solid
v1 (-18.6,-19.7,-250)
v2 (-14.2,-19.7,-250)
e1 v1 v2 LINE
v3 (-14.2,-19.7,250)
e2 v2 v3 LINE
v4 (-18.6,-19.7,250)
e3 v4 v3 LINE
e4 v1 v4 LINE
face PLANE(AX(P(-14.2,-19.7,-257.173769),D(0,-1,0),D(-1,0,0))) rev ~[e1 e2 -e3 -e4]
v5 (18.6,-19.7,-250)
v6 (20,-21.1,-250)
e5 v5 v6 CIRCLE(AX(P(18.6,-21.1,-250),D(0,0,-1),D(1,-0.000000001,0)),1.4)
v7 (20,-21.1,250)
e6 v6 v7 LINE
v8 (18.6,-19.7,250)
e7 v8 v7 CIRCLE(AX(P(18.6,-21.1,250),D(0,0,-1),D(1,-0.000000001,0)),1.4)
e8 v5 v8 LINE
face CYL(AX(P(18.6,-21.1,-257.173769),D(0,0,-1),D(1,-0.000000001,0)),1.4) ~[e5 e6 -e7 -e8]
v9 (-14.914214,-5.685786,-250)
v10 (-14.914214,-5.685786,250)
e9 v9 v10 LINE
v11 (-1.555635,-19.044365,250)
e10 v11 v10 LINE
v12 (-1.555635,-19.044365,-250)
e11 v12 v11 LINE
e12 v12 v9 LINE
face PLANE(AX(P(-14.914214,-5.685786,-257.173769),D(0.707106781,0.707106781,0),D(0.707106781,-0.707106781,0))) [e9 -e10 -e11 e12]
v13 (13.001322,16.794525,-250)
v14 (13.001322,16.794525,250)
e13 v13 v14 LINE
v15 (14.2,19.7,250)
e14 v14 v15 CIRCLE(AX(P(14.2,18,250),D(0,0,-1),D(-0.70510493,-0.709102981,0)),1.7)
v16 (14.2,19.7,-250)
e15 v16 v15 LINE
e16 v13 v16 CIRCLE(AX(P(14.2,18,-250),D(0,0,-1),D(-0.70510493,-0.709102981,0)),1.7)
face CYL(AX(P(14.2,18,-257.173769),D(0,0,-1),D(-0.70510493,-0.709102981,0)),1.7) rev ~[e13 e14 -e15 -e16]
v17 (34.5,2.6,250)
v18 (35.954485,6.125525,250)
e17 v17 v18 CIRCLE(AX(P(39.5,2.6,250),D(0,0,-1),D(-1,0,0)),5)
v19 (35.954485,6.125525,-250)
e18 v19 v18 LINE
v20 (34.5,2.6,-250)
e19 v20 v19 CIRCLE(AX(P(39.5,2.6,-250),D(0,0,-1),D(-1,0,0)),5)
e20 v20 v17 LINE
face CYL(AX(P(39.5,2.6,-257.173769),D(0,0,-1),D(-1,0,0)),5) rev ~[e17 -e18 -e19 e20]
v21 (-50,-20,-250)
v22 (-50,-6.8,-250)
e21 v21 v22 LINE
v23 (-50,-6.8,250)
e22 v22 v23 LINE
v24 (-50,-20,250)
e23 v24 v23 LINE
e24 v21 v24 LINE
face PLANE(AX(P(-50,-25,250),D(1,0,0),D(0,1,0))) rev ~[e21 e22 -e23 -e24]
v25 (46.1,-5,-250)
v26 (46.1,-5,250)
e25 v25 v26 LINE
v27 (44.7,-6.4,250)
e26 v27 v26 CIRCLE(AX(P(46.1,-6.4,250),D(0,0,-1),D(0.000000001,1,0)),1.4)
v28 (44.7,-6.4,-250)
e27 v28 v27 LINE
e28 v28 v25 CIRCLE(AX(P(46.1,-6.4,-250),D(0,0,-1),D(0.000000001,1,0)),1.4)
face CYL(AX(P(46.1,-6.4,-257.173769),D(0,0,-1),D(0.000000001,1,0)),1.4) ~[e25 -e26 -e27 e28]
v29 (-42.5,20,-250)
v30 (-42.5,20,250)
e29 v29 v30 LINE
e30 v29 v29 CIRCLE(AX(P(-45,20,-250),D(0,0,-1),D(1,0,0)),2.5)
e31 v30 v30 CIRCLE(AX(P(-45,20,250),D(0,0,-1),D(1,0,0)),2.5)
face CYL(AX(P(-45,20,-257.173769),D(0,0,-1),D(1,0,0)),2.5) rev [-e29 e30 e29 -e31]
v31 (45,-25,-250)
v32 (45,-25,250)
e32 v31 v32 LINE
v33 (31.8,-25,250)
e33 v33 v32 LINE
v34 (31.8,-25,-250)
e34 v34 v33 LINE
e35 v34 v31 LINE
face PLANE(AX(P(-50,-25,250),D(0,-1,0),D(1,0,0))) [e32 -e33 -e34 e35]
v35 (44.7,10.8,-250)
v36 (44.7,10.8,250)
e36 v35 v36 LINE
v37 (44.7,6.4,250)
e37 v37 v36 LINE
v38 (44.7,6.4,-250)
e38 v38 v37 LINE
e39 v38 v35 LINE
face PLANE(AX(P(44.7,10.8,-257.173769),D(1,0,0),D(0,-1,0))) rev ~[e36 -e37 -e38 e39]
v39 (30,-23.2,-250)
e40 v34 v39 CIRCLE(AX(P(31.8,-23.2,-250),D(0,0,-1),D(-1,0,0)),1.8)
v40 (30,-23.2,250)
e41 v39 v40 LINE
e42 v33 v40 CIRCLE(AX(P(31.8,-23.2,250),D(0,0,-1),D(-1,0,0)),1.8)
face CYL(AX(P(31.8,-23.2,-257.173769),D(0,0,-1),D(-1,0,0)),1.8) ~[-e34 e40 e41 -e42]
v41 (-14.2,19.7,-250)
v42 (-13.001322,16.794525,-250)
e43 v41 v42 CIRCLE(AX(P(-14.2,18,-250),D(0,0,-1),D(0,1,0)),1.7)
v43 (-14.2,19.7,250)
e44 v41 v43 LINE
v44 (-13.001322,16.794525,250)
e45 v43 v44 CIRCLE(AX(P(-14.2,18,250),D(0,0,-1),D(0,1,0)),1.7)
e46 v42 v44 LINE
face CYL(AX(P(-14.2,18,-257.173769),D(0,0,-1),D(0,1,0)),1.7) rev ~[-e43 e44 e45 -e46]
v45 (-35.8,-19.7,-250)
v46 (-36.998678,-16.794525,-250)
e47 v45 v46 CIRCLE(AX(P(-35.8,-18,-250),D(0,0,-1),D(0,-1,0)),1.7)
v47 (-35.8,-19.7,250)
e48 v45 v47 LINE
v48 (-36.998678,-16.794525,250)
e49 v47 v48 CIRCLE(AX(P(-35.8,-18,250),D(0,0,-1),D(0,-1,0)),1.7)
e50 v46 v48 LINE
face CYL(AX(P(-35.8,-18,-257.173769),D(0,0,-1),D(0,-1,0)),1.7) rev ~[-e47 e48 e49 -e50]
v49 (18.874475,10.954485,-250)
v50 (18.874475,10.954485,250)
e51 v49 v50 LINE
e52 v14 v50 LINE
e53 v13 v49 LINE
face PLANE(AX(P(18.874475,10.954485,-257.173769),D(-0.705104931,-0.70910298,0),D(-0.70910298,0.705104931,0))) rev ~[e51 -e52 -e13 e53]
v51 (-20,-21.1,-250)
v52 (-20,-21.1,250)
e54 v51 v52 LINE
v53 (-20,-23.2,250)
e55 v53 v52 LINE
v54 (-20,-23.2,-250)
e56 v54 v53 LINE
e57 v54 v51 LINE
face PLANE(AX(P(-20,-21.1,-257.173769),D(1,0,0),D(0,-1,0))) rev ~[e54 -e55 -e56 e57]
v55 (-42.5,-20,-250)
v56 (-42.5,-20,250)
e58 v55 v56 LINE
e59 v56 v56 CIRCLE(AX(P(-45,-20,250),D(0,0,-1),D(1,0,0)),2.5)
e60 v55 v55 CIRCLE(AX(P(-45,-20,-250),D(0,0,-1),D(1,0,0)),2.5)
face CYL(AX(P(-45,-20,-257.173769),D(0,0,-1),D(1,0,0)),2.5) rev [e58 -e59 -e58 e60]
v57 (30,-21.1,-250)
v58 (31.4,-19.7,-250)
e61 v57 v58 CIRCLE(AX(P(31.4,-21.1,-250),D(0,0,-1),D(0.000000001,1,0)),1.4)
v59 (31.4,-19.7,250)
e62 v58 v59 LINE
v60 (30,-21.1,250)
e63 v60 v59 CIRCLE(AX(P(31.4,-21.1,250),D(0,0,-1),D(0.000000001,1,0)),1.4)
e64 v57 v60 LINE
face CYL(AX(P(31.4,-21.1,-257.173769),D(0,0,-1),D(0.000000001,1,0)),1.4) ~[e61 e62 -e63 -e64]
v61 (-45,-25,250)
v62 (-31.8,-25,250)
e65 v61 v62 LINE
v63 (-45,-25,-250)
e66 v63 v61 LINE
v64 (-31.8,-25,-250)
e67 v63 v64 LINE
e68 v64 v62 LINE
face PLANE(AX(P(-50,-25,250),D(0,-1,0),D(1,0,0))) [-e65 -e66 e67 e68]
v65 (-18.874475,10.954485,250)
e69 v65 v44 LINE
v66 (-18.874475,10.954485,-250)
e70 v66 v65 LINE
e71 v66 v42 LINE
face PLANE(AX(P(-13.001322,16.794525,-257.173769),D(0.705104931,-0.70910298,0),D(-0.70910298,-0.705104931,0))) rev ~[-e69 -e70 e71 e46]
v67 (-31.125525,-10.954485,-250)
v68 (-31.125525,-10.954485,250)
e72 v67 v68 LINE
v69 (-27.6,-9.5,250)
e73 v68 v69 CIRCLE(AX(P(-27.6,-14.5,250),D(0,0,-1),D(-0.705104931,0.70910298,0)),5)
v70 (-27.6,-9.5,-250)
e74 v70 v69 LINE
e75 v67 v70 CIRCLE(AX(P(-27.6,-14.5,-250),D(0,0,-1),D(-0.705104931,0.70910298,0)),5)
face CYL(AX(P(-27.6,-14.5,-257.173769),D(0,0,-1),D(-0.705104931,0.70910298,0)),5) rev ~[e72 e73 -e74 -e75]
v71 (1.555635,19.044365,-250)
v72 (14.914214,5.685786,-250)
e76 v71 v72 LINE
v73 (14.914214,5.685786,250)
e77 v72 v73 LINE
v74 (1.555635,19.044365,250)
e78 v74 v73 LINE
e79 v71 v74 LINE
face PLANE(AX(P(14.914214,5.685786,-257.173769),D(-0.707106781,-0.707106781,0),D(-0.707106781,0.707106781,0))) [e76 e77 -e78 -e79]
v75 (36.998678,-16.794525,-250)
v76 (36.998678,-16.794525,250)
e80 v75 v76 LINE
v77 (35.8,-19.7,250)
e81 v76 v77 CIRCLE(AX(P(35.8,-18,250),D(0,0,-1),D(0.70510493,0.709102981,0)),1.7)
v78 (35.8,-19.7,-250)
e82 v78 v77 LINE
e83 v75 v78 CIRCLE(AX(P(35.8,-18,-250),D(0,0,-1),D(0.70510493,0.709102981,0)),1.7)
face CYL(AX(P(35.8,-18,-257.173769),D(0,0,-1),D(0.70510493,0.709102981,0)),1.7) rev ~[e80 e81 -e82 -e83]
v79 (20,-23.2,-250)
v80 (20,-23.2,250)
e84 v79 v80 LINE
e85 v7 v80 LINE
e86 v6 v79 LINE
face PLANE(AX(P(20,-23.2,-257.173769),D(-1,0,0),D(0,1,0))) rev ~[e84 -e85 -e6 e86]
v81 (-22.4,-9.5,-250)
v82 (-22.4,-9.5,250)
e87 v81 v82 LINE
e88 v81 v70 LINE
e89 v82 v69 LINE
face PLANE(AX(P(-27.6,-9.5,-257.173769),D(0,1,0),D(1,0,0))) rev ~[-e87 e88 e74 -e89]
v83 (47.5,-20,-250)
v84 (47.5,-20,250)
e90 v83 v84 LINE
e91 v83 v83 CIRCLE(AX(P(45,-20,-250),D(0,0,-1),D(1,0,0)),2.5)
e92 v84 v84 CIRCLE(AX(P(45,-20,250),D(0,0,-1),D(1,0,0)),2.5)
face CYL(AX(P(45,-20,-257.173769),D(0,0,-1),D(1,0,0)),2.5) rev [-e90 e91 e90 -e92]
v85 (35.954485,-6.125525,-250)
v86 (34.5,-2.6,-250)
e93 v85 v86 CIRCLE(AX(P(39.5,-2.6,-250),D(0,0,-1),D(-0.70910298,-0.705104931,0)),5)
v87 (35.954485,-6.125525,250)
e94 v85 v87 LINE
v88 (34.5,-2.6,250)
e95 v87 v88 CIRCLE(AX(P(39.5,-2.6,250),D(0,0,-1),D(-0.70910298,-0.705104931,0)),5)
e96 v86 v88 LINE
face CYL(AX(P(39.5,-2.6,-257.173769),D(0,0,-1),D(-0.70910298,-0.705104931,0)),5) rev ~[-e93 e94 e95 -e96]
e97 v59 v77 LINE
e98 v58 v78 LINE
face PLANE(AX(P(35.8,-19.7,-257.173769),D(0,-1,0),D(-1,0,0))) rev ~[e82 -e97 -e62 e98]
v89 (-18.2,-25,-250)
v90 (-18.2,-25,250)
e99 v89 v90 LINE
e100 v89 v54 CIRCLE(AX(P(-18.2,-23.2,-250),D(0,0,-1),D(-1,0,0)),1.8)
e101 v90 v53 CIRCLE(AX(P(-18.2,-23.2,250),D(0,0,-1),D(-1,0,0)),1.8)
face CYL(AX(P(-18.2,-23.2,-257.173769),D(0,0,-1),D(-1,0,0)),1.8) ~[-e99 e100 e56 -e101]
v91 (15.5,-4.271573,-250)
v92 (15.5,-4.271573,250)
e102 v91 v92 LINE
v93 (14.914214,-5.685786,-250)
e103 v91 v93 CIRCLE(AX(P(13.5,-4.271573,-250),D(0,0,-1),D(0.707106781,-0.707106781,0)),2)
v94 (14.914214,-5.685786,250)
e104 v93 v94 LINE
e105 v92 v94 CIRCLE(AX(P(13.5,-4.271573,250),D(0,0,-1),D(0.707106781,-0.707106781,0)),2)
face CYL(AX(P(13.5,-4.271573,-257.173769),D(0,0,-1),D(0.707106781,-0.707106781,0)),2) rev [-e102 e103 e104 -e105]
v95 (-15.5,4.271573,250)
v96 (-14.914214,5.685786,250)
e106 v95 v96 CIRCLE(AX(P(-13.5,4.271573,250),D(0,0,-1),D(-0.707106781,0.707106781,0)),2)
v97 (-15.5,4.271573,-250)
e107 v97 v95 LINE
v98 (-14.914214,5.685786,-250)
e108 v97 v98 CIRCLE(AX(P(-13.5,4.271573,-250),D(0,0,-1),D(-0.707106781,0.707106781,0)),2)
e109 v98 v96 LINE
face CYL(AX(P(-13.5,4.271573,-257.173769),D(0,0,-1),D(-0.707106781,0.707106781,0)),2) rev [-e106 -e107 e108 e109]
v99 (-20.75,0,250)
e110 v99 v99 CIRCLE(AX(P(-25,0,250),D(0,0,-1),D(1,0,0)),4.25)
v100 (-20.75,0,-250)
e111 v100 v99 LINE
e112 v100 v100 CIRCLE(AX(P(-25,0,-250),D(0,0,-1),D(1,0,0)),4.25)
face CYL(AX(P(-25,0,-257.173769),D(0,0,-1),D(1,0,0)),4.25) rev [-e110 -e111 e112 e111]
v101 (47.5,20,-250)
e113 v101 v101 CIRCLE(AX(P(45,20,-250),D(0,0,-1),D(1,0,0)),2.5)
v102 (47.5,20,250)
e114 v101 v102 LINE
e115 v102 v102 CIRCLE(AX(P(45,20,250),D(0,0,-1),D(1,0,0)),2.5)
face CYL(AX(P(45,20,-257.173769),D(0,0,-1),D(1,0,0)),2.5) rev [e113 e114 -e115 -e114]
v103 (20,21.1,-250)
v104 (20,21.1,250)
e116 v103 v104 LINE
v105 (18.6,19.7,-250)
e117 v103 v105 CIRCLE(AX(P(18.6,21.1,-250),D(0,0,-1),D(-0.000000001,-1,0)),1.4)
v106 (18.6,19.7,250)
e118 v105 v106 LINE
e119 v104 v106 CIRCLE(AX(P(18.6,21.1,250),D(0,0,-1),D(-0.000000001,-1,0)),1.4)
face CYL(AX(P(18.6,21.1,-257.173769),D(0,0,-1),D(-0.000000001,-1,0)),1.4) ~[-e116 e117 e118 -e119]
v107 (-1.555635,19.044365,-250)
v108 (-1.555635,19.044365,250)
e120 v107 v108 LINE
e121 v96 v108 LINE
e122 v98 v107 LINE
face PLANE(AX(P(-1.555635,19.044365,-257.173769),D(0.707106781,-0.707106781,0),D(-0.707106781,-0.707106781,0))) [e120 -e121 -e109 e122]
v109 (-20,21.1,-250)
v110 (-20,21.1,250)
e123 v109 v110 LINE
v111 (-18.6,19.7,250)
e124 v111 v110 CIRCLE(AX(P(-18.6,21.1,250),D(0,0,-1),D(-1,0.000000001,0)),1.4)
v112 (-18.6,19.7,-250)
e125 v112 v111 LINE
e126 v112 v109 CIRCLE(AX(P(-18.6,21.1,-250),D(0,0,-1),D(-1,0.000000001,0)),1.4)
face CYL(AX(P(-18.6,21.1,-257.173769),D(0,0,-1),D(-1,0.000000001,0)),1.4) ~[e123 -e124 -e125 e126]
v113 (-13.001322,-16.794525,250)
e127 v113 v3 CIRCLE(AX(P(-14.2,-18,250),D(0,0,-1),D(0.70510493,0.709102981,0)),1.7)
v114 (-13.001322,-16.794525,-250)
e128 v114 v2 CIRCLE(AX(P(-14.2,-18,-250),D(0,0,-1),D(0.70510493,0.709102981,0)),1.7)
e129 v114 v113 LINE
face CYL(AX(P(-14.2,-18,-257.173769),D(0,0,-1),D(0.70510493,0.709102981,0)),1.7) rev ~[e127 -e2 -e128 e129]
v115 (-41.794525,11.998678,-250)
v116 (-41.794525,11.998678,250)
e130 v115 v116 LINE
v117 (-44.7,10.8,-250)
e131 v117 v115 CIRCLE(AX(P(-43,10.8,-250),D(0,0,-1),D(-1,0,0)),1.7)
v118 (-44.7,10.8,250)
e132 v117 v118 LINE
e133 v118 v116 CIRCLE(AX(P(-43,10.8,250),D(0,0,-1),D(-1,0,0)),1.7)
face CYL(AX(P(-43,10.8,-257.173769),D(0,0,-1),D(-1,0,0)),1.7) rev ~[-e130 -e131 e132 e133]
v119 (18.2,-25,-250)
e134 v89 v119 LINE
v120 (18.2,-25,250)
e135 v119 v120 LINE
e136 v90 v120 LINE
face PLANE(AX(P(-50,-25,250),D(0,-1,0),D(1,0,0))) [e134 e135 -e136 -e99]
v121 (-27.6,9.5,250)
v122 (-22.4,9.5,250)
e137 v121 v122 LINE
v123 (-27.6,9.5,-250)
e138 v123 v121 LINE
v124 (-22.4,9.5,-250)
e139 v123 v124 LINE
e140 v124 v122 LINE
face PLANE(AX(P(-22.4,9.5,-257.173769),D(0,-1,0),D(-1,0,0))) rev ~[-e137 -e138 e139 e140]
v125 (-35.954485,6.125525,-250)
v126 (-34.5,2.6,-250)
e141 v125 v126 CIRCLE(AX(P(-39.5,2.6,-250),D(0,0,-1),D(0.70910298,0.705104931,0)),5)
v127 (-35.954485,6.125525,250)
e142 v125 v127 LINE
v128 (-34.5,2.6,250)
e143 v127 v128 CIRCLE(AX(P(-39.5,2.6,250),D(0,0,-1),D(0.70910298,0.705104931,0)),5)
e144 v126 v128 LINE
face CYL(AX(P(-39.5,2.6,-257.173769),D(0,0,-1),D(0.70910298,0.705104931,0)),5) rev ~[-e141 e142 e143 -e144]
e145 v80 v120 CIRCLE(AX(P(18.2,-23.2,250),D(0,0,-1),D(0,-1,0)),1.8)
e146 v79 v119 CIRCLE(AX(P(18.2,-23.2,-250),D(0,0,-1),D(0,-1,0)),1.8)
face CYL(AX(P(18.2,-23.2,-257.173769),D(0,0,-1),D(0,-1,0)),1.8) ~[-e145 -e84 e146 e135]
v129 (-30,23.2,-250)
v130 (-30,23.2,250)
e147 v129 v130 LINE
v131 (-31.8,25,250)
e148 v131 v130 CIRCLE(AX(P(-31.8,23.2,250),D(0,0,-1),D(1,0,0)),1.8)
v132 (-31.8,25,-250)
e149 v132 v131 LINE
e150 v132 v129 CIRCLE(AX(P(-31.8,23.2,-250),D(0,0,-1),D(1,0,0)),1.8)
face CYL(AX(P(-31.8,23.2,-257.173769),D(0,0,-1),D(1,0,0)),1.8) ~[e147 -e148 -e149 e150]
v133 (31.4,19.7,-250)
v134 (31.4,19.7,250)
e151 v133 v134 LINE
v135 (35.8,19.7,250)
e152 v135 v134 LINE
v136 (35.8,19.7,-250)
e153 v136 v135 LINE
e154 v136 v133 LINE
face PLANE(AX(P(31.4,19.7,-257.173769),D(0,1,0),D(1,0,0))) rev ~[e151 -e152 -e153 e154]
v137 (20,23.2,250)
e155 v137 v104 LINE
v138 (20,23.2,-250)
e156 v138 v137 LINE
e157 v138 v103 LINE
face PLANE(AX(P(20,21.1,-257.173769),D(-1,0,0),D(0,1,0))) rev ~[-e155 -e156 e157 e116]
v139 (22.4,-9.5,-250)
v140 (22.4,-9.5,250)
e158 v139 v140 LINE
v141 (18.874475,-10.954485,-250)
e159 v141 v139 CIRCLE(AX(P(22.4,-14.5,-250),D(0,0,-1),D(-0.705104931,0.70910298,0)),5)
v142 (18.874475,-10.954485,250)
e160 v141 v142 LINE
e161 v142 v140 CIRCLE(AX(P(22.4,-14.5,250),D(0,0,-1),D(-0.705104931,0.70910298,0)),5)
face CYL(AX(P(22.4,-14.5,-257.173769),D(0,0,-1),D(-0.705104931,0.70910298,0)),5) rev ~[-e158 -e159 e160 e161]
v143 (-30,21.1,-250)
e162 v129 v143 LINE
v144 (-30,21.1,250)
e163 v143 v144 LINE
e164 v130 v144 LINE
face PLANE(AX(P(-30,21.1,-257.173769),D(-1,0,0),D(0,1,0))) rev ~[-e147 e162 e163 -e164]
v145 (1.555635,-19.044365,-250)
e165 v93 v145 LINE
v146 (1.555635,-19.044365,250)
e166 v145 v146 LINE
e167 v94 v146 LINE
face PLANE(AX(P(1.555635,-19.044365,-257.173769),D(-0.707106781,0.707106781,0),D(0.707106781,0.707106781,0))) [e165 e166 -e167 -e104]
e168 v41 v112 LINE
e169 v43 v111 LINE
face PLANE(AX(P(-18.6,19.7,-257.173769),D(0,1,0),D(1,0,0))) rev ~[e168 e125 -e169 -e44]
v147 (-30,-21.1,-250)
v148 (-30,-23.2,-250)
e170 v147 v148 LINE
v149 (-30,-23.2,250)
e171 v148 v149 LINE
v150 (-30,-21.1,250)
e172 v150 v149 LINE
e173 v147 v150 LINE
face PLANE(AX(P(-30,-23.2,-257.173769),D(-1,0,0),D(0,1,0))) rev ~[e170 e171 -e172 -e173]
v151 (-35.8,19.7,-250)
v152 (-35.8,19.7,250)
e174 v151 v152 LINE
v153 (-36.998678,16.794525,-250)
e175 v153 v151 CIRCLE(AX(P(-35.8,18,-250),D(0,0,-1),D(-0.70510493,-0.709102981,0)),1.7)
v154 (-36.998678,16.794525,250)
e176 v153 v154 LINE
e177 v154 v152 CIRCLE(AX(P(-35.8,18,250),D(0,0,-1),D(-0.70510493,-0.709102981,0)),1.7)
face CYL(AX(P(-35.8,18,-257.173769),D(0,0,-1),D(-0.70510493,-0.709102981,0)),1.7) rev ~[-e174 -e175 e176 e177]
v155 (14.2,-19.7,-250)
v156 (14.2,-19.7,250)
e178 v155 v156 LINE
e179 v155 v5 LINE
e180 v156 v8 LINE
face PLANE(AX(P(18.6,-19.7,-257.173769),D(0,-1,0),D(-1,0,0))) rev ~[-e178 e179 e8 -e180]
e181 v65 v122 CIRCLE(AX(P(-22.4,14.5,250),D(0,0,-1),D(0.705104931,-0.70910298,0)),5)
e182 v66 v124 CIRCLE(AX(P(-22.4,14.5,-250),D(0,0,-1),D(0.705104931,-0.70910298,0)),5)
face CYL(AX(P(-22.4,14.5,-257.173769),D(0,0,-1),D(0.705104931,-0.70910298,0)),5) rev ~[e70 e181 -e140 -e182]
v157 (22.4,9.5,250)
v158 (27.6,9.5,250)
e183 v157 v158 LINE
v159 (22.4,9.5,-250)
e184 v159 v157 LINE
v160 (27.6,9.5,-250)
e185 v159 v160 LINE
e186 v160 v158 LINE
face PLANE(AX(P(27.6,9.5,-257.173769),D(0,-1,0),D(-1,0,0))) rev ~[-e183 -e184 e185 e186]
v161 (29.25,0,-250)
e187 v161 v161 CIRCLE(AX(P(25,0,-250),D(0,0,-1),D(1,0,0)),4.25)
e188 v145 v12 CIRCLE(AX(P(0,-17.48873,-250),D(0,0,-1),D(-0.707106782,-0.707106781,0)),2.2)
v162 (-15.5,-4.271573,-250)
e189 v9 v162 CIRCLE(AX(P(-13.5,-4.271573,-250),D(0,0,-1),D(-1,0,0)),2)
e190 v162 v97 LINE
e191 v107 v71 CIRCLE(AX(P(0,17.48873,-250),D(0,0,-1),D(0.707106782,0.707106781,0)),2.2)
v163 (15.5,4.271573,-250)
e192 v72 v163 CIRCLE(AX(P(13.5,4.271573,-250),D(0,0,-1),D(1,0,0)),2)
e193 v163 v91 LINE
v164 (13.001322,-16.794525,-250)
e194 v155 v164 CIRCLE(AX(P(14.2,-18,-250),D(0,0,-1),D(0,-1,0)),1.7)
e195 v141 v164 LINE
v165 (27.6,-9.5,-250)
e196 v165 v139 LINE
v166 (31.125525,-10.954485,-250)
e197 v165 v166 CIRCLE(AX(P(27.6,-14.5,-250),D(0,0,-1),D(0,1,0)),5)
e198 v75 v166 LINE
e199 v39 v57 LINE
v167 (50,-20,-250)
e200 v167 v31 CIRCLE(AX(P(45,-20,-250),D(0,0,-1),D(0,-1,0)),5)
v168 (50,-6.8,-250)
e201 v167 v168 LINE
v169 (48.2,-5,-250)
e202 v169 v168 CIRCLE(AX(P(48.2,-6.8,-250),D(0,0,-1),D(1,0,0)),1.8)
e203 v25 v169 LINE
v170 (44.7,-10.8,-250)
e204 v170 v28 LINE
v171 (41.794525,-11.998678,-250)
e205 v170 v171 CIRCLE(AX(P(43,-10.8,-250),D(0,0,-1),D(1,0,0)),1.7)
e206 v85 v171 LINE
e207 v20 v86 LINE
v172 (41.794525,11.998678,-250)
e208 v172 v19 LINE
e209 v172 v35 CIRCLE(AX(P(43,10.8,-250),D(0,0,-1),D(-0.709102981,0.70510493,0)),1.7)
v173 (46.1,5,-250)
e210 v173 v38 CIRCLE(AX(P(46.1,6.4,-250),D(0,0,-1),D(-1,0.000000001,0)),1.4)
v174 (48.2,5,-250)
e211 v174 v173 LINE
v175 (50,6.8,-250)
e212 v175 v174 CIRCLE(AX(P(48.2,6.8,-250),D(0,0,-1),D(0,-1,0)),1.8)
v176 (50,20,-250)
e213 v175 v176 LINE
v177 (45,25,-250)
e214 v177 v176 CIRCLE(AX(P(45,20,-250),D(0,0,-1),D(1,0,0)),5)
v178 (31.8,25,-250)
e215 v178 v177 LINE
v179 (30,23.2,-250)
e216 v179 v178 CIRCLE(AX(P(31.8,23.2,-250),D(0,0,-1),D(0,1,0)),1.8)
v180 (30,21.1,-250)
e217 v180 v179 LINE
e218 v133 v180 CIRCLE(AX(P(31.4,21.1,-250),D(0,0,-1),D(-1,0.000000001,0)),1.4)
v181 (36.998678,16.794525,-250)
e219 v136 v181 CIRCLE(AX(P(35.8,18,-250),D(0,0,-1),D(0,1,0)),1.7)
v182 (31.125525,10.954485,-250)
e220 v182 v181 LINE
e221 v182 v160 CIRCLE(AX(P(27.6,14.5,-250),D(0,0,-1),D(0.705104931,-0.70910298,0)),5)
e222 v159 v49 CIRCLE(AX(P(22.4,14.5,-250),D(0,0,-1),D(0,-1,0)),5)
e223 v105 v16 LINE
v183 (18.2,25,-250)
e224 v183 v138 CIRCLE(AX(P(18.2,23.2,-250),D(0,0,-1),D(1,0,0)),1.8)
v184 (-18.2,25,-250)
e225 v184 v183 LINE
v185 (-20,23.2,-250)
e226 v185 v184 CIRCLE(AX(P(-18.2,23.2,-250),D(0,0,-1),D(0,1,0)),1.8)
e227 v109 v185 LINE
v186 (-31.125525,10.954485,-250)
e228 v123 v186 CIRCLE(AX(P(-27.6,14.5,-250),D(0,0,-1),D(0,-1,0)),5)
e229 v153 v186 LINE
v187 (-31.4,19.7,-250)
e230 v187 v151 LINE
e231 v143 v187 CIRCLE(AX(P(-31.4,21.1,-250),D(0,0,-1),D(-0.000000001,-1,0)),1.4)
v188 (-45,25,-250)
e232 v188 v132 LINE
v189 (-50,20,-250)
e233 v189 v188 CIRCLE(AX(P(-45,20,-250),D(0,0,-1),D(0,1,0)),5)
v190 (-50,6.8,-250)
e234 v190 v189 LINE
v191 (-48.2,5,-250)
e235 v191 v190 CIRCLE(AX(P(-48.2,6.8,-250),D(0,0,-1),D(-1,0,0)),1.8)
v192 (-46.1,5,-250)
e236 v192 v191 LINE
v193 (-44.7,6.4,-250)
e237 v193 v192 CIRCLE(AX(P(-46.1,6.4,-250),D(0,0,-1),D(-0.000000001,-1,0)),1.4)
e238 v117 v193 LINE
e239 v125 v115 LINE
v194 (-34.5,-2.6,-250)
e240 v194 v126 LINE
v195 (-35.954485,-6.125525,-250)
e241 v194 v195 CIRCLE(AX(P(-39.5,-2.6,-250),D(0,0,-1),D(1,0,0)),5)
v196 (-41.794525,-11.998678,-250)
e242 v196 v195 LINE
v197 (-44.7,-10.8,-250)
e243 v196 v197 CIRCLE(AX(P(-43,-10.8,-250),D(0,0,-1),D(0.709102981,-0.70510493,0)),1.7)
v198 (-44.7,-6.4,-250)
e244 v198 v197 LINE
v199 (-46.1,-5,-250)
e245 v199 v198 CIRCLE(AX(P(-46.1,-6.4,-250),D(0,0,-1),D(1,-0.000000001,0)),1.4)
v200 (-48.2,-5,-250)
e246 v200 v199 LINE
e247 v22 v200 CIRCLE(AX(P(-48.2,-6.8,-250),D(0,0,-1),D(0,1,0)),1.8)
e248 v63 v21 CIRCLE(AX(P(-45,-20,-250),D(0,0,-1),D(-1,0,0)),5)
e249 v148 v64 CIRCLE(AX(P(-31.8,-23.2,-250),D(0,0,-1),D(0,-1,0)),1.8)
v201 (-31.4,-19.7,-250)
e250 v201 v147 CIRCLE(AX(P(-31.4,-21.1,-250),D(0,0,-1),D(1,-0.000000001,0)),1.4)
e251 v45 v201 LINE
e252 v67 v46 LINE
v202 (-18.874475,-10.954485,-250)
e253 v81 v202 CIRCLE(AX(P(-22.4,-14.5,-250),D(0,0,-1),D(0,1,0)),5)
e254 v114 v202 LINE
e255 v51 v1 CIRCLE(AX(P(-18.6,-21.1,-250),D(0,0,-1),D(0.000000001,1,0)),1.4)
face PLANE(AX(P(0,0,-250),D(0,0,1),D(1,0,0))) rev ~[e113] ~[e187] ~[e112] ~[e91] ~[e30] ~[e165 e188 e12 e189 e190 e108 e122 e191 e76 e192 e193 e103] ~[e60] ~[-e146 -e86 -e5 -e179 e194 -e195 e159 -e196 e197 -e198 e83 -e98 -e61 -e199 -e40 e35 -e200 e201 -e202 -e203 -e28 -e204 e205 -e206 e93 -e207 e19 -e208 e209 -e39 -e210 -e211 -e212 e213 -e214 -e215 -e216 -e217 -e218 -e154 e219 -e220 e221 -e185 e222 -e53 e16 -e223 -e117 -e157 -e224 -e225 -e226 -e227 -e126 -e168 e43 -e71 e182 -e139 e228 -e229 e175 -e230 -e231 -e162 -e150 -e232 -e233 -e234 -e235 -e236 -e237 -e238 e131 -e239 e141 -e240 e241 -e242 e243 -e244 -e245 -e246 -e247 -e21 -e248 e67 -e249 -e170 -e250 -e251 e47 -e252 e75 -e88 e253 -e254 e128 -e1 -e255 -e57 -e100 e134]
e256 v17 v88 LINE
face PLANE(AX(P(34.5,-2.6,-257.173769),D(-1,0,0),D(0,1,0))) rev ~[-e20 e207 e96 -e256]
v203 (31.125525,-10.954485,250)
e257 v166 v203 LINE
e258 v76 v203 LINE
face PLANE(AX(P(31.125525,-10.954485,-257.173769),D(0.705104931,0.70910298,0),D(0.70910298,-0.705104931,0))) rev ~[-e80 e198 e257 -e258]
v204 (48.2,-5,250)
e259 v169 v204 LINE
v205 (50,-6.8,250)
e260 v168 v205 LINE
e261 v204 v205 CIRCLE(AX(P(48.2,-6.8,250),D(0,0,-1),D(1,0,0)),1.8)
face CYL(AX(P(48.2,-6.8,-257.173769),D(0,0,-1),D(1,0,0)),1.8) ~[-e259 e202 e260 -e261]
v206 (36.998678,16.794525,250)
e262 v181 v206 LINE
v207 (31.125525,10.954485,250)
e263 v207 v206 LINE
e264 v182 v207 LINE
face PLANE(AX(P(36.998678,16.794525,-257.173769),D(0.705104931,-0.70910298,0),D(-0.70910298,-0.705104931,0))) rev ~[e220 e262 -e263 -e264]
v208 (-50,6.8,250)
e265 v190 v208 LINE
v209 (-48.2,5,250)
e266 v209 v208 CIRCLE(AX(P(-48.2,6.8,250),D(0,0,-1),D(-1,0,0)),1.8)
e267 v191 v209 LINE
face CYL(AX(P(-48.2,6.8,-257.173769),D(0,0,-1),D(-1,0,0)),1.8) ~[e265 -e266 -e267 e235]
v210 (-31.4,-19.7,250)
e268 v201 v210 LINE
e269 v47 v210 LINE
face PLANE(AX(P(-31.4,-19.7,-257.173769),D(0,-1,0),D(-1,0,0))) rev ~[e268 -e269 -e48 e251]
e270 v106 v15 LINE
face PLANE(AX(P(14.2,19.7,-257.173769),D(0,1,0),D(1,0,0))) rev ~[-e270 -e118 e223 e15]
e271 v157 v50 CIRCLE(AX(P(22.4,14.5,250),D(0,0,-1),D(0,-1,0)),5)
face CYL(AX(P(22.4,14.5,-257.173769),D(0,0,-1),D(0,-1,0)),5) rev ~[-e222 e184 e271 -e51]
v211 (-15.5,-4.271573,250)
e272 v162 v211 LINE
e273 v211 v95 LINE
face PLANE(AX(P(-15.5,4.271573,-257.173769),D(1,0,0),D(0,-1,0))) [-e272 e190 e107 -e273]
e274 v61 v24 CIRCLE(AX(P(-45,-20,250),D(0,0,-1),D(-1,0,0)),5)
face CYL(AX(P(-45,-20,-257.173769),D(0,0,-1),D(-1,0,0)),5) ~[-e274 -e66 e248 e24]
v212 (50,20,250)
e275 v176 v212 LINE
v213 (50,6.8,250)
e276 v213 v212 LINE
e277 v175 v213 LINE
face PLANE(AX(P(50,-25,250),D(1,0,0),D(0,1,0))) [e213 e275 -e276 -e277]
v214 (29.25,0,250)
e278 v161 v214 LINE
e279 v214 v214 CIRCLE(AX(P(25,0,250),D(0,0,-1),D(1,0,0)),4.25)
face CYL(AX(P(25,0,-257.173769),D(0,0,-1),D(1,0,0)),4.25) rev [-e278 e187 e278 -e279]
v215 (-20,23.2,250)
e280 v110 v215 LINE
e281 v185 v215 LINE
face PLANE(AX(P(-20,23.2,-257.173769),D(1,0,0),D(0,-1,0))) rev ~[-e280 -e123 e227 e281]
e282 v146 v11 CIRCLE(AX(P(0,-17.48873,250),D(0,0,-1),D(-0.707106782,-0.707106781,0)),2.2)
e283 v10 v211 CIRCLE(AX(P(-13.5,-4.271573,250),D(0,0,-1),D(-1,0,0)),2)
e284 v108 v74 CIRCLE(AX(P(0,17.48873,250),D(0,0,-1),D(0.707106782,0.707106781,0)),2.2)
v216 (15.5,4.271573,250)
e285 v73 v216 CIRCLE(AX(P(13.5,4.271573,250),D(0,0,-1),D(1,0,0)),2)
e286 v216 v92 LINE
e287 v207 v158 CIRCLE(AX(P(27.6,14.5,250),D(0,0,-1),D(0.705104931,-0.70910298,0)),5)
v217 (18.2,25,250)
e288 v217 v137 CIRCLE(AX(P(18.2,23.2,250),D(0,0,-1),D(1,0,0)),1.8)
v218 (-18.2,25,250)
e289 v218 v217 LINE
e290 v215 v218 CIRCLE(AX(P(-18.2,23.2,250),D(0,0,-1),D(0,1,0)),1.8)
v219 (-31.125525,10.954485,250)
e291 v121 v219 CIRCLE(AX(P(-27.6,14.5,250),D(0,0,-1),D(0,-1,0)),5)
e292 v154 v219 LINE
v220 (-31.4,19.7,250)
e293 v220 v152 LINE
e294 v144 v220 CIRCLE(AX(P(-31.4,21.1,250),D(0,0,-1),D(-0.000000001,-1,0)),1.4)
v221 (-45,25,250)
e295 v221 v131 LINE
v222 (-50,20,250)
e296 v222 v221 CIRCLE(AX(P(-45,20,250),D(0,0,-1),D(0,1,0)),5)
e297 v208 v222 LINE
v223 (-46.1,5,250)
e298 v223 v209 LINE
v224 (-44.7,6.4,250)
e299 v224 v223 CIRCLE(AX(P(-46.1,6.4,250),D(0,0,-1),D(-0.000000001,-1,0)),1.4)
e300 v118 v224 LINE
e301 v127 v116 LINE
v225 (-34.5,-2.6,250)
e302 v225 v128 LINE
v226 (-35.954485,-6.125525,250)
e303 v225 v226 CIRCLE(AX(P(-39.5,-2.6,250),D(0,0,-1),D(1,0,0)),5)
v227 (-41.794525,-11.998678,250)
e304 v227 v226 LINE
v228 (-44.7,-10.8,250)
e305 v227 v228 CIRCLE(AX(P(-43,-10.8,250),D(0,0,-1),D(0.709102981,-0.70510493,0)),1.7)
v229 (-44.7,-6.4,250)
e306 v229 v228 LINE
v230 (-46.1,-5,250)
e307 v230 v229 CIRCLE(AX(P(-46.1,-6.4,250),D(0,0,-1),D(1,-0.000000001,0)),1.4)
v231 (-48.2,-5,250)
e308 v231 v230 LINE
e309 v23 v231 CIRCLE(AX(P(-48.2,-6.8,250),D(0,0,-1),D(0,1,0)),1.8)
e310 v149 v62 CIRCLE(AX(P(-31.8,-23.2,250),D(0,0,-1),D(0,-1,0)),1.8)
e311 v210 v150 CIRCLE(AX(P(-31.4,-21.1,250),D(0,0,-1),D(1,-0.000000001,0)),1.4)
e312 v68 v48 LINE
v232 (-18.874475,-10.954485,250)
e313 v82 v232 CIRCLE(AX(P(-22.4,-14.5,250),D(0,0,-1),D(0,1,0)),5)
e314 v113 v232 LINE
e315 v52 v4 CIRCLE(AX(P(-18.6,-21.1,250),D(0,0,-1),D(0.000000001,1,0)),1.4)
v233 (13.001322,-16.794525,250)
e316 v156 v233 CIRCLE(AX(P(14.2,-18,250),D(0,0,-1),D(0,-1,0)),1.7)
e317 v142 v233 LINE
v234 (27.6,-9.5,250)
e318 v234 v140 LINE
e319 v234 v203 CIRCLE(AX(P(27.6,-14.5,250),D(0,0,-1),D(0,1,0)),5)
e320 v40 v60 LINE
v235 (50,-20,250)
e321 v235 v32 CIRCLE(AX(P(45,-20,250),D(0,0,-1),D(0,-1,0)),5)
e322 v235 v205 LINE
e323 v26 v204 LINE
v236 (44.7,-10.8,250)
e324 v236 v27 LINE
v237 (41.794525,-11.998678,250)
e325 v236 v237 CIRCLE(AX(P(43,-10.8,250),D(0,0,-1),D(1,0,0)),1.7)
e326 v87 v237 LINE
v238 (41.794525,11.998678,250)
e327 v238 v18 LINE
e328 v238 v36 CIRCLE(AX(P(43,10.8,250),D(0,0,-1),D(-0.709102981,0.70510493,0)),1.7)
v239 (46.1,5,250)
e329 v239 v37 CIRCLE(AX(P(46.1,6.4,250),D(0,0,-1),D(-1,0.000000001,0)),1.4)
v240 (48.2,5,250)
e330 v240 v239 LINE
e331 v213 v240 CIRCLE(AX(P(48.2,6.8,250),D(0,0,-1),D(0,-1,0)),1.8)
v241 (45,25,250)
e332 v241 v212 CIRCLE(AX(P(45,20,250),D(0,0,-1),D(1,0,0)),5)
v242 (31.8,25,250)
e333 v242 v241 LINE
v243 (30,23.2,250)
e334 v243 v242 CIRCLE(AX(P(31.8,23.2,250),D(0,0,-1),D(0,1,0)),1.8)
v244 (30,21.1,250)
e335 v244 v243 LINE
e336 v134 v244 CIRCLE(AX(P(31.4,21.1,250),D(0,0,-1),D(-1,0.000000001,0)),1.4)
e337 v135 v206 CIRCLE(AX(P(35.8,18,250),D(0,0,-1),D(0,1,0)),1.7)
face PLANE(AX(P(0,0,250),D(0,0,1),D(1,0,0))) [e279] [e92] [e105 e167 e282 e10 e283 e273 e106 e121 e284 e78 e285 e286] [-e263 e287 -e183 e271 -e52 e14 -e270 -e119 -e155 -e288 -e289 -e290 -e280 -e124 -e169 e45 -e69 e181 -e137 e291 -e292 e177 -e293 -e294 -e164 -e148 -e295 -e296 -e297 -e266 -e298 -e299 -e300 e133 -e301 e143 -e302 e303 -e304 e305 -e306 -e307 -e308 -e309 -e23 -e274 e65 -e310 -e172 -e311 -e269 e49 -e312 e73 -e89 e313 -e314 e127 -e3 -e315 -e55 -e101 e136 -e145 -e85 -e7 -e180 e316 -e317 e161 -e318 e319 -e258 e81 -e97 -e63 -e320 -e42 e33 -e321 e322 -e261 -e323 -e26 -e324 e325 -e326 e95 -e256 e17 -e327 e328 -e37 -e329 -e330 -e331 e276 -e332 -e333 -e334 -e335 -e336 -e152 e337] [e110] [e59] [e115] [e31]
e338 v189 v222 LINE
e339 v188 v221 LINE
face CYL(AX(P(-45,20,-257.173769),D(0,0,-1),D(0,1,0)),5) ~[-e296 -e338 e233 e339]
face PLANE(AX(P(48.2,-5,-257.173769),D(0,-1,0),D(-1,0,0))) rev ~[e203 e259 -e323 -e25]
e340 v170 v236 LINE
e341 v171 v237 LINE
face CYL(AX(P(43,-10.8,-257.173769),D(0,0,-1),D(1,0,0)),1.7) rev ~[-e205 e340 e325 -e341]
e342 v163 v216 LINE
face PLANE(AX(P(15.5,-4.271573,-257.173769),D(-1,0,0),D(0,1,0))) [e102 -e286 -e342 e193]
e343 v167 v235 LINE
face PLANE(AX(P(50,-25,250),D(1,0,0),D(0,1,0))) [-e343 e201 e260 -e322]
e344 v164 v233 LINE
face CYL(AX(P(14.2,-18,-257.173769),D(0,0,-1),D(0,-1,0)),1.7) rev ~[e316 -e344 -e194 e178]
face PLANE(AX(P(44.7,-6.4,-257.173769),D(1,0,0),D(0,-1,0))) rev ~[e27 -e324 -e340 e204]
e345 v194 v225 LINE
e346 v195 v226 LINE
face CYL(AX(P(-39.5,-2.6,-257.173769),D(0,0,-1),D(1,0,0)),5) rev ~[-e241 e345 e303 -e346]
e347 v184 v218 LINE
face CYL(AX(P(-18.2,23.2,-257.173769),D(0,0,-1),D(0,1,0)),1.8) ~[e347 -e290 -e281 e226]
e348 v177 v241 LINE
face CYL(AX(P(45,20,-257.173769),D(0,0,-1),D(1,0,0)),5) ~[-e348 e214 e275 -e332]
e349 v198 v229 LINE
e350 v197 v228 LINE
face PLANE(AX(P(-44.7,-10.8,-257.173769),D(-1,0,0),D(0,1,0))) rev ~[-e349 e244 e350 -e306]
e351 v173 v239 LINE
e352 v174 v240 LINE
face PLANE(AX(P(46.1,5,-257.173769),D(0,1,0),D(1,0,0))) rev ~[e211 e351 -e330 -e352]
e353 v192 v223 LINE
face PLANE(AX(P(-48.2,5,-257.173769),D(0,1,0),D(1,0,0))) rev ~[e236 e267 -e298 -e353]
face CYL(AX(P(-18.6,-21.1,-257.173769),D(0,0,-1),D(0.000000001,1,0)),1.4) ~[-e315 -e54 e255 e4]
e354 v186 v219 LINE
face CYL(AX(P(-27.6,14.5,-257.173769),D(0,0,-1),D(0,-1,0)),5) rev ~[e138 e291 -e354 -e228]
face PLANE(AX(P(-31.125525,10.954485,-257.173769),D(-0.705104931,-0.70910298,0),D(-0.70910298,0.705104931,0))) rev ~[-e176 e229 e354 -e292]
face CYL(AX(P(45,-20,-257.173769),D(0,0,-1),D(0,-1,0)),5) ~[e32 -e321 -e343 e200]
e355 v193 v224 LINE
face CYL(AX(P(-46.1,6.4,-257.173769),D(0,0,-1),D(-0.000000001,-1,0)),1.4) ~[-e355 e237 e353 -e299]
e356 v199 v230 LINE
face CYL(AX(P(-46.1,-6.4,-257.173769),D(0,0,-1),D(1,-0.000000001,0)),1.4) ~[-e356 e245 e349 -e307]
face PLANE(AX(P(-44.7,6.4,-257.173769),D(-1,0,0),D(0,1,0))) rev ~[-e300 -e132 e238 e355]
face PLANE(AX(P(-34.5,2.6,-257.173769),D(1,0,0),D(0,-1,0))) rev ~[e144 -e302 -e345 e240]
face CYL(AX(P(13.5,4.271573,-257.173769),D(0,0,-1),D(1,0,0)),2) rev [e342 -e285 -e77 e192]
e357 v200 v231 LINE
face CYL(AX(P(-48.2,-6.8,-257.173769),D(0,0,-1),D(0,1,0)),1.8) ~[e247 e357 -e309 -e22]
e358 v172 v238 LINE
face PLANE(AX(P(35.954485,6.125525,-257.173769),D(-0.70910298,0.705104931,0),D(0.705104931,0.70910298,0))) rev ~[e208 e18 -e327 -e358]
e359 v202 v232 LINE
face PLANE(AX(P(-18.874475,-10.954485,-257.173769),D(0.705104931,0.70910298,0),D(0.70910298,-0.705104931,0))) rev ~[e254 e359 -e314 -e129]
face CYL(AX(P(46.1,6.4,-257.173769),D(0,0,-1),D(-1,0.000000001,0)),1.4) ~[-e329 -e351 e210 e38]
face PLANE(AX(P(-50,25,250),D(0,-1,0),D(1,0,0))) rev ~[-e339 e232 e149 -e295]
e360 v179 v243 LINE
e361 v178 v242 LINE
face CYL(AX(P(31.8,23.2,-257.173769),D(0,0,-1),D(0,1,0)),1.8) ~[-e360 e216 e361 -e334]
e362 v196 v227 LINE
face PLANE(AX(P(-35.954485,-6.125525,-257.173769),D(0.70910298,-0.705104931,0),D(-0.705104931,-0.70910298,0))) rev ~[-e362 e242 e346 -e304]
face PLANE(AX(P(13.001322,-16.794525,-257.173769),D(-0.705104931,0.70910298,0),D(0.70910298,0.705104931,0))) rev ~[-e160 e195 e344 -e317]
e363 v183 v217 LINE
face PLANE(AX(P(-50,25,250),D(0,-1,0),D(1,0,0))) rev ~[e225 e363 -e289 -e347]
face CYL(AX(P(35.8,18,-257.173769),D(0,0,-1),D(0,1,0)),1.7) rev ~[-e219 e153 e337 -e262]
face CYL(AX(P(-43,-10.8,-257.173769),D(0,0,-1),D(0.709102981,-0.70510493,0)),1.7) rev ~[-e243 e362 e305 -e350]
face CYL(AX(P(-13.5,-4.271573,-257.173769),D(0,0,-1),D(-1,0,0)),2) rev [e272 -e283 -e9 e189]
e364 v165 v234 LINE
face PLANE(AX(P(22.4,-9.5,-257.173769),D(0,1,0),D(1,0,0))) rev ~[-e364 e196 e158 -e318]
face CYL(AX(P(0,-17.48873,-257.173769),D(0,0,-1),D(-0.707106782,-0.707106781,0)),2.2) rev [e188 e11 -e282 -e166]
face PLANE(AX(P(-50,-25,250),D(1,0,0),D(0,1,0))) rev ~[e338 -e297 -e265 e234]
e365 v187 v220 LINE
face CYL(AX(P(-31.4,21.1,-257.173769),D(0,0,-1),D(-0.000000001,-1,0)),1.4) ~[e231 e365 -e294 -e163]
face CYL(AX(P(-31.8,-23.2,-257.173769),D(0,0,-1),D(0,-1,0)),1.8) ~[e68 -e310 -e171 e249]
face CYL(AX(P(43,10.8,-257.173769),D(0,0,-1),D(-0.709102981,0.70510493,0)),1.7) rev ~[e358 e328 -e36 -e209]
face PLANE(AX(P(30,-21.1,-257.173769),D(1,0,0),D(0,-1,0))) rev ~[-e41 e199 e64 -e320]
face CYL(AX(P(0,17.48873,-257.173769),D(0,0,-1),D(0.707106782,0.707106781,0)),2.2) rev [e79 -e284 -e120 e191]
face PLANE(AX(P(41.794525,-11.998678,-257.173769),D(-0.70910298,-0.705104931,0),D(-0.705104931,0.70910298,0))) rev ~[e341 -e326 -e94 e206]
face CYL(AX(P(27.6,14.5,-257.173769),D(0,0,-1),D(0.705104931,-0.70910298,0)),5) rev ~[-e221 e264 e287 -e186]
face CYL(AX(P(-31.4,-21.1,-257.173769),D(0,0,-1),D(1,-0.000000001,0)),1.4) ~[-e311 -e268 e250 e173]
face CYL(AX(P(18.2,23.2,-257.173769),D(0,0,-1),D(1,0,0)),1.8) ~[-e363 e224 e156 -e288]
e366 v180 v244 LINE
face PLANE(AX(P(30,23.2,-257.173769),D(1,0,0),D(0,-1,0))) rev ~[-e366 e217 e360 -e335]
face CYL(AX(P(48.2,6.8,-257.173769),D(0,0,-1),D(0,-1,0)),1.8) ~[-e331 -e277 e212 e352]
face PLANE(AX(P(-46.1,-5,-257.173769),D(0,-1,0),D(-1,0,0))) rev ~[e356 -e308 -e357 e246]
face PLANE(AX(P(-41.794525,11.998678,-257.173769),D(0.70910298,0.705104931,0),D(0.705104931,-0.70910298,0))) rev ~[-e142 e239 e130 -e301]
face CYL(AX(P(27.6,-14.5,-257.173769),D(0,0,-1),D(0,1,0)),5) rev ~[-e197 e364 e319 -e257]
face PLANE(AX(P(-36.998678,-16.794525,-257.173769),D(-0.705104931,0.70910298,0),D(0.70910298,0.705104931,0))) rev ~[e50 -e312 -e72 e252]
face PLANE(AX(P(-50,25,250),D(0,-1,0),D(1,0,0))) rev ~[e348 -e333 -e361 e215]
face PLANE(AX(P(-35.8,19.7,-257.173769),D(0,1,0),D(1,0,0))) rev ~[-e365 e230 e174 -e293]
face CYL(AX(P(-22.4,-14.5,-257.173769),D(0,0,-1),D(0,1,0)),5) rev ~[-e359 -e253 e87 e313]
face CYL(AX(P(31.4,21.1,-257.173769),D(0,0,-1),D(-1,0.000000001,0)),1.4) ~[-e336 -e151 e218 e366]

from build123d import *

# Parameters (mm, degrees)
SKETCH4_W              = 100
SKETCH4_H              = 50
BODY_DEPTH             = 500
CUT_PROFILE_DEPTH      = 257.173769149
CUT_PROFILE_DEPTH_BACK = 257.173769149
SKETCH6_OUTSIDE_W      = 204.47
SKETCH6_OUTSIDE_H      = 154.47
SKETCH6_OUTSIDE_R      = 4.25
SKETCH6_OUTSIDE_R_2    = 2.5


with BuildPart() as part:
    # Sketch4 → Body (new body)
    with BuildSketch(Plane.XY.offset(250)):
        Rectangle(SKETCH4_W, SKETCH4_H)
    extrude(amount=-BODY_DEPTH)

    # Sketch6 outside → Cut-Profile (cut, two sides: drawn at the far end of the back side and taken through both)
    # profile 1 of 8: a face of its own
    with BuildSketch(Plane.XY.offset(-CUT_PROFILE_DEPTH_BACK)):
        Rectangle(SKETCH6_OUTSIDE_W, SKETCH6_OUTSIDE_H)
        with BuildLine():
            Line((-31.4, -19.7), (-35.8, -19.7))
            ThreePointArc((-35.8, -19.7), (-37.371513222, -18.648341109), (-36.998678382, -16.794524933))
            Line((-36.998678382, -16.794524933), (-31.125524653, -10.954485098))
            ThreePointArc((-31.125524653, -10.954485098), (-29.506885614, -9.877902288), (-27.6, -9.5))
            Line((-27.6, -9.5), (-22.4, -9.5))
            ThreePointArc((-22.4, -9.5), (-20.493114386, -9.877902288), (-18.874475347, -10.954485098))
            Line((-18.874475347, -10.954485098), (-13.001321618, -16.794524933))
            ThreePointArc((-13.001321618, -16.794524933), (-12.628486778, -18.648341109), (-14.2, -19.7))
            Line((-14.2, -19.7), (-18.6, -19.7))
            ThreePointArc((-18.6, -19.7), (-19.589949494, -20.110050506), (-20, -21.1))
            Line((-20, -21.1), (-20, -23.2))
            ThreePointArc((-20, -23.2), (-19.472792206, -24.472792206), (-18.2, -25))
            Line((-18.2, -25), (18.2, -25))
            ThreePointArc((18.2, -25), (19.472792206, -24.472792206), (20, -23.2))
            Line((20, -23.2), (20, -21.1))
            ThreePointArc((20, -21.1), (19.589949494, -20.110050506), (18.6, -19.7))
            Line((18.6, -19.7), (14.2, -19.7))
            ThreePointArc((14.2, -19.7), (12.628486778, -18.648341109), (13.001321618, -16.794524933))
            Line((13.001321618, -16.794524933), (18.874475347, -10.954485098))
            ThreePointArc((18.874475347, -10.954485098), (20.493114386, -9.877902288), (22.4, -9.5))
            Line((22.4, -9.5), (27.6, -9.5))
            ThreePointArc((27.6, -9.5), (29.506885614, -9.877902288), (31.125524653, -10.954485098))
            Line((31.125524653, -10.954485098), (36.998678382, -16.794524933))
            ThreePointArc((36.998678382, -16.794524933), (37.371513222, -18.648341109), (35.8, -19.7))
            Line((35.8, -19.7), (31.4, -19.7))
            ThreePointArc((31.4, -19.7), (30.410050506, -20.110050506), (30, -21.1))
            Line((30, -21.1), (30, -23.2))
            ThreePointArc((30, -23.2), (30.527207794, -24.472792206), (31.8, -25))
            Line((31.8, -25), (45, -25))
            ThreePointArc((45, -25), (48.535533906, -23.535533906), (50, -20))
            Line((50, -20), (50, -6.8))
            ThreePointArc((50, -6.8), (49.472792206, -5.527207794), (48.2, -5))
            Line((48.2, -5), (46.1, -5))
            ThreePointArc((46.1, -5), (45.110050506, -5.410050506), (44.7, -6.4))
            Line((44.7, -6.4), (44.7, -10.8))
            ThreePointArc((44.7, -10.8), (43.648341109, -12.371513222), (41.794524933, -11.998678382))
            Line((41.794524933, -11.998678382), (35.954485098, -6.125524653))
            ThreePointArc((35.954485098, -6.125524653), (34.877902288, -4.506885614), (34.5, -2.6))
            Line((34.5, -2.6), (34.5, 2.6))
            ThreePointArc((34.5, 2.6), (34.877902288, 4.506885614), (35.954485098, 6.125524653))
            Line((35.954485098, 6.125524653), (41.794524933, 11.998678382))
            ThreePointArc((41.794524933, 11.998678382), (43.648341109, 12.371513222), (44.7, 10.8))
            Line((44.7, 10.8), (44.7, 6.4))
            ThreePointArc((44.7, 6.4), (45.110050506, 5.410050506), (46.1, 5))
            Line((46.1, 5), (48.2, 5))
            ThreePointArc((48.2, 5), (49.472792206, 5.527207794), (50, 6.8))
            Line((50, 6.8), (50, 20))
            ThreePointArc((50, 20), (48.535533906, 23.535533906), (45, 25))
            Line((45, 25), (31.8, 25))
            ThreePointArc((31.8, 25), (30.527207794, 24.472792206), (30, 23.2))
            Line((30, 23.2), (30, 21.1))
            ThreePointArc((30, 21.1), (30.410050506, 20.110050506), (31.4, 19.7))
            Line((31.4, 19.7), (35.8, 19.7))
            ThreePointArc((35.8, 19.7), (37.371513222, 18.648341109), (36.998678382, 16.794524933))
            Line((36.998678382, 16.794524933), (31.125524653, 10.954485098))
            ThreePointArc((31.125524653, 10.954485098), (29.506885614, 9.877902288), (27.6, 9.5))
            Line((27.6, 9.5), (22.4, 9.5))
            ThreePointArc((22.4, 9.5), (20.493114386, 9.877902288), (18.874475347, 10.954485098))
            Line((18.874475347, 10.954485098), (13.001321618, 16.794524933))
            ThreePointArc((13.001321618, 16.794524933), (12.628486778, 18.648341109), (14.2, 19.7))
            Line((14.2, 19.7), (18.6, 19.7))
            ThreePointArc((18.6, 19.7), (19.589949494, 20.110050506), (20, 21.1))
            Line((20, 21.1), (20, 23.2))
            ThreePointArc((20, 23.2), (19.472792206, 24.472792206), (18.2, 25))
            Line((18.2, 25), (-18.2, 25))
            ThreePointArc((-18.2, 25), (-19.472792206, 24.472792206), (-20, 23.2))
            Line((-20, 23.2), (-20, 21.1))
            ThreePointArc((-20, 21.1), (-19.589949494, 20.110050506), (-18.6, 19.7))
            Line((-18.6, 19.7), (-14.2, 19.7))
            ThreePointArc((-14.2, 19.7), (-12.628486778, 18.648341109), (-13.001321618, 16.794524933))
            Line((-13.001321618, 16.794524933), (-18.874475347, 10.954485098))
            ThreePointArc((-18.874475347, 10.954485098), (-20.493114386, 9.877902288), (-22.4, 9.5))
            Line((-22.4, 9.5), (-27.6, 9.5))
            ThreePointArc((-27.6, 9.5), (-29.506885614, 9.877902288), (-31.125524653, 10.954485098))
            Line((-31.125524653, 10.954485098), (-36.998678382, 16.794524933))
            ThreePointArc((-36.998678382, 16.794524933), (-37.371513222, 18.648341109), (-35.8, 19.7))
            Line((-35.8, 19.7), (-31.4, 19.7))
            ThreePointArc((-31.4, 19.7), (-30.410050506, 20.110050506), (-30, 21.1))
            Line((-30, 21.1), (-30, 23.2))
            ThreePointArc((-30, 23.2), (-30.527207794, 24.472792206), (-31.8, 25))
            Line((-31.8, 25), (-45, 25))
            ThreePointArc((-45, 25), (-48.535533906, 23.535533906), (-50, 20))
            Line((-50, 20), (-50, 6.8))
            ThreePointArc((-50, 6.8), (-49.472792206, 5.527207794), (-48.2, 5))
            Line((-48.2, 5), (-46.1, 5))
            ThreePointArc((-46.1, 5), (-45.110050506, 5.410050506), (-44.7, 6.4))
            Line((-44.7, 6.4), (-44.7, 10.8))
            ThreePointArc((-44.7, 10.8), (-43.648341109, 12.371513222), (-41.794524933, 11.998678382))
            Line((-41.794524933, 11.998678382), (-35.954485098, 6.125524653))
            ThreePointArc((-35.954485098, 6.125524653), (-34.877902288, 4.506885614), (-34.5, 2.6))
            Line((-34.5, 2.6), (-34.5, -2.6))
            ThreePointArc((-34.5, -2.6), (-34.877902288, -4.506885614), (-35.954485098, -6.125524653))
            Line((-35.954485098, -6.125524653), (-41.794524933, -11.998678382))
            ThreePointArc((-41.794524933, -11.998678382), (-43.648341109, -12.371513222), (-44.7, -10.8))
            Line((-44.7, -10.8), (-44.7, -6.4))
            ThreePointArc((-44.7, -6.4), (-45.110050506, -5.410050506), (-46.1, -5))
            Line((-46.1, -5), (-48.2, -5))
            ThreePointArc((-48.2, -5), (-49.472792206, -5.527207794), (-50, -6.8))
            Line((-50, -6.8), (-50, -20))
            ThreePointArc((-50, -20), (-48.535533906, -23.535533906), (-45, -25))
            Line((-45, -25), (-31.8, -25))
            ThreePointArc((-31.8, -25), (-30.527207794, -24.472792206), (-30, -23.2))
            Line((-30, -23.2), (-30, -21.1))
            ThreePointArc((-30, -21.1), (-30.410050506, -20.110050506), (-31.4, -19.7))
        make_face(mode=Mode.SUBTRACT)
    # profile 2 of 8: a face of its own
    with BuildSketch(Plane.XY.offset(-CUT_PROFILE_DEPTH_BACK)):
        with Locations((25, 0)):
            Circle(SKETCH6_OUTSIDE_R)
    # profile 3 of 8: a face of its own
    with BuildSketch(Plane.XY.offset(-CUT_PROFILE_DEPTH_BACK)):
        with Locations((45, -20)):
            Circle(SKETCH6_OUTSIDE_R_2)
    # profile 4 of 8: a face of its own
    with BuildSketch(Plane.XY.offset(-CUT_PROFILE_DEPTH_BACK)):
        with Locations((45, 20)):
            Circle(SKETCH6_OUTSIDE_R_2)
    # profile 5 of 8: a face of its own
    with BuildSketch(Plane.XY.offset(-CUT_PROFILE_DEPTH_BACK)):
        with Locations((-45, -20)):
            Circle(SKETCH6_OUTSIDE_R_2)
    # profile 6 of 8: a face of its own
    with BuildSketch(Plane.XY.offset(-CUT_PROFILE_DEPTH_BACK)):
        with Locations((-45, 20)):
            Circle(SKETCH6_OUTSIDE_R_2)
    # profile 7 of 8: a face of its own
    with BuildSketch(Plane.XY.offset(-CUT_PROFILE_DEPTH_BACK)):
        with Locations((-25, 0)):
            Circle(SKETCH6_OUTSIDE_R)
    # profile 8 of 8: a face of its own
    with BuildSketch(Plane.XY.offset(-CUT_PROFILE_DEPTH_BACK)):
        with BuildLine():
            Line((14.914213562, 5.685786438), (1.555634919, 19.044365081))
            ThreePointArc((1.555634919, 19.044365081), (0, 19.688730163), (-1.555634919, 19.044365081))
            Line((-1.555634919, 19.044365081), (-14.914213562, 5.685786438))
            ThreePointArc((-14.914213562, 5.685786438), (-15.347759065, 5.03693974), (-15.5, 4.271572875))
            Line((-15.5, 4.271572875), (-15.5, -4.271572875))
            ThreePointArc((-15.5, -4.271572875), (-15.347759065, -5.03693974), (-14.914213562, -5.685786438))
            Line((-14.914213562, -5.685786438), (-1.555634919, -19.044365081))
            ThreePointArc((-1.555634919, -19.044365081), (0, -19.688730163), (1.555634919, -19.044365081))
            Line((1.555634919, -19.044365081), (14.914213562, -5.685786438))
            ThreePointArc((14.914213562, -5.685786438), (15.347759065, -5.03693974), (15.5, -4.271572875))
            Line((15.5, -4.271572875), (15.5, 4.271572875))
            ThreePointArc((15.5, 4.271572875), (15.347759065, 5.03693974), (14.914213562, 5.685786438))
        make_face()
    extrude(amount=CUT_PROFILE_DEPTH + CUT_PROFILE_DEPTH_BACK, mode=Mode.SUBTRACT)


solid = part.part
